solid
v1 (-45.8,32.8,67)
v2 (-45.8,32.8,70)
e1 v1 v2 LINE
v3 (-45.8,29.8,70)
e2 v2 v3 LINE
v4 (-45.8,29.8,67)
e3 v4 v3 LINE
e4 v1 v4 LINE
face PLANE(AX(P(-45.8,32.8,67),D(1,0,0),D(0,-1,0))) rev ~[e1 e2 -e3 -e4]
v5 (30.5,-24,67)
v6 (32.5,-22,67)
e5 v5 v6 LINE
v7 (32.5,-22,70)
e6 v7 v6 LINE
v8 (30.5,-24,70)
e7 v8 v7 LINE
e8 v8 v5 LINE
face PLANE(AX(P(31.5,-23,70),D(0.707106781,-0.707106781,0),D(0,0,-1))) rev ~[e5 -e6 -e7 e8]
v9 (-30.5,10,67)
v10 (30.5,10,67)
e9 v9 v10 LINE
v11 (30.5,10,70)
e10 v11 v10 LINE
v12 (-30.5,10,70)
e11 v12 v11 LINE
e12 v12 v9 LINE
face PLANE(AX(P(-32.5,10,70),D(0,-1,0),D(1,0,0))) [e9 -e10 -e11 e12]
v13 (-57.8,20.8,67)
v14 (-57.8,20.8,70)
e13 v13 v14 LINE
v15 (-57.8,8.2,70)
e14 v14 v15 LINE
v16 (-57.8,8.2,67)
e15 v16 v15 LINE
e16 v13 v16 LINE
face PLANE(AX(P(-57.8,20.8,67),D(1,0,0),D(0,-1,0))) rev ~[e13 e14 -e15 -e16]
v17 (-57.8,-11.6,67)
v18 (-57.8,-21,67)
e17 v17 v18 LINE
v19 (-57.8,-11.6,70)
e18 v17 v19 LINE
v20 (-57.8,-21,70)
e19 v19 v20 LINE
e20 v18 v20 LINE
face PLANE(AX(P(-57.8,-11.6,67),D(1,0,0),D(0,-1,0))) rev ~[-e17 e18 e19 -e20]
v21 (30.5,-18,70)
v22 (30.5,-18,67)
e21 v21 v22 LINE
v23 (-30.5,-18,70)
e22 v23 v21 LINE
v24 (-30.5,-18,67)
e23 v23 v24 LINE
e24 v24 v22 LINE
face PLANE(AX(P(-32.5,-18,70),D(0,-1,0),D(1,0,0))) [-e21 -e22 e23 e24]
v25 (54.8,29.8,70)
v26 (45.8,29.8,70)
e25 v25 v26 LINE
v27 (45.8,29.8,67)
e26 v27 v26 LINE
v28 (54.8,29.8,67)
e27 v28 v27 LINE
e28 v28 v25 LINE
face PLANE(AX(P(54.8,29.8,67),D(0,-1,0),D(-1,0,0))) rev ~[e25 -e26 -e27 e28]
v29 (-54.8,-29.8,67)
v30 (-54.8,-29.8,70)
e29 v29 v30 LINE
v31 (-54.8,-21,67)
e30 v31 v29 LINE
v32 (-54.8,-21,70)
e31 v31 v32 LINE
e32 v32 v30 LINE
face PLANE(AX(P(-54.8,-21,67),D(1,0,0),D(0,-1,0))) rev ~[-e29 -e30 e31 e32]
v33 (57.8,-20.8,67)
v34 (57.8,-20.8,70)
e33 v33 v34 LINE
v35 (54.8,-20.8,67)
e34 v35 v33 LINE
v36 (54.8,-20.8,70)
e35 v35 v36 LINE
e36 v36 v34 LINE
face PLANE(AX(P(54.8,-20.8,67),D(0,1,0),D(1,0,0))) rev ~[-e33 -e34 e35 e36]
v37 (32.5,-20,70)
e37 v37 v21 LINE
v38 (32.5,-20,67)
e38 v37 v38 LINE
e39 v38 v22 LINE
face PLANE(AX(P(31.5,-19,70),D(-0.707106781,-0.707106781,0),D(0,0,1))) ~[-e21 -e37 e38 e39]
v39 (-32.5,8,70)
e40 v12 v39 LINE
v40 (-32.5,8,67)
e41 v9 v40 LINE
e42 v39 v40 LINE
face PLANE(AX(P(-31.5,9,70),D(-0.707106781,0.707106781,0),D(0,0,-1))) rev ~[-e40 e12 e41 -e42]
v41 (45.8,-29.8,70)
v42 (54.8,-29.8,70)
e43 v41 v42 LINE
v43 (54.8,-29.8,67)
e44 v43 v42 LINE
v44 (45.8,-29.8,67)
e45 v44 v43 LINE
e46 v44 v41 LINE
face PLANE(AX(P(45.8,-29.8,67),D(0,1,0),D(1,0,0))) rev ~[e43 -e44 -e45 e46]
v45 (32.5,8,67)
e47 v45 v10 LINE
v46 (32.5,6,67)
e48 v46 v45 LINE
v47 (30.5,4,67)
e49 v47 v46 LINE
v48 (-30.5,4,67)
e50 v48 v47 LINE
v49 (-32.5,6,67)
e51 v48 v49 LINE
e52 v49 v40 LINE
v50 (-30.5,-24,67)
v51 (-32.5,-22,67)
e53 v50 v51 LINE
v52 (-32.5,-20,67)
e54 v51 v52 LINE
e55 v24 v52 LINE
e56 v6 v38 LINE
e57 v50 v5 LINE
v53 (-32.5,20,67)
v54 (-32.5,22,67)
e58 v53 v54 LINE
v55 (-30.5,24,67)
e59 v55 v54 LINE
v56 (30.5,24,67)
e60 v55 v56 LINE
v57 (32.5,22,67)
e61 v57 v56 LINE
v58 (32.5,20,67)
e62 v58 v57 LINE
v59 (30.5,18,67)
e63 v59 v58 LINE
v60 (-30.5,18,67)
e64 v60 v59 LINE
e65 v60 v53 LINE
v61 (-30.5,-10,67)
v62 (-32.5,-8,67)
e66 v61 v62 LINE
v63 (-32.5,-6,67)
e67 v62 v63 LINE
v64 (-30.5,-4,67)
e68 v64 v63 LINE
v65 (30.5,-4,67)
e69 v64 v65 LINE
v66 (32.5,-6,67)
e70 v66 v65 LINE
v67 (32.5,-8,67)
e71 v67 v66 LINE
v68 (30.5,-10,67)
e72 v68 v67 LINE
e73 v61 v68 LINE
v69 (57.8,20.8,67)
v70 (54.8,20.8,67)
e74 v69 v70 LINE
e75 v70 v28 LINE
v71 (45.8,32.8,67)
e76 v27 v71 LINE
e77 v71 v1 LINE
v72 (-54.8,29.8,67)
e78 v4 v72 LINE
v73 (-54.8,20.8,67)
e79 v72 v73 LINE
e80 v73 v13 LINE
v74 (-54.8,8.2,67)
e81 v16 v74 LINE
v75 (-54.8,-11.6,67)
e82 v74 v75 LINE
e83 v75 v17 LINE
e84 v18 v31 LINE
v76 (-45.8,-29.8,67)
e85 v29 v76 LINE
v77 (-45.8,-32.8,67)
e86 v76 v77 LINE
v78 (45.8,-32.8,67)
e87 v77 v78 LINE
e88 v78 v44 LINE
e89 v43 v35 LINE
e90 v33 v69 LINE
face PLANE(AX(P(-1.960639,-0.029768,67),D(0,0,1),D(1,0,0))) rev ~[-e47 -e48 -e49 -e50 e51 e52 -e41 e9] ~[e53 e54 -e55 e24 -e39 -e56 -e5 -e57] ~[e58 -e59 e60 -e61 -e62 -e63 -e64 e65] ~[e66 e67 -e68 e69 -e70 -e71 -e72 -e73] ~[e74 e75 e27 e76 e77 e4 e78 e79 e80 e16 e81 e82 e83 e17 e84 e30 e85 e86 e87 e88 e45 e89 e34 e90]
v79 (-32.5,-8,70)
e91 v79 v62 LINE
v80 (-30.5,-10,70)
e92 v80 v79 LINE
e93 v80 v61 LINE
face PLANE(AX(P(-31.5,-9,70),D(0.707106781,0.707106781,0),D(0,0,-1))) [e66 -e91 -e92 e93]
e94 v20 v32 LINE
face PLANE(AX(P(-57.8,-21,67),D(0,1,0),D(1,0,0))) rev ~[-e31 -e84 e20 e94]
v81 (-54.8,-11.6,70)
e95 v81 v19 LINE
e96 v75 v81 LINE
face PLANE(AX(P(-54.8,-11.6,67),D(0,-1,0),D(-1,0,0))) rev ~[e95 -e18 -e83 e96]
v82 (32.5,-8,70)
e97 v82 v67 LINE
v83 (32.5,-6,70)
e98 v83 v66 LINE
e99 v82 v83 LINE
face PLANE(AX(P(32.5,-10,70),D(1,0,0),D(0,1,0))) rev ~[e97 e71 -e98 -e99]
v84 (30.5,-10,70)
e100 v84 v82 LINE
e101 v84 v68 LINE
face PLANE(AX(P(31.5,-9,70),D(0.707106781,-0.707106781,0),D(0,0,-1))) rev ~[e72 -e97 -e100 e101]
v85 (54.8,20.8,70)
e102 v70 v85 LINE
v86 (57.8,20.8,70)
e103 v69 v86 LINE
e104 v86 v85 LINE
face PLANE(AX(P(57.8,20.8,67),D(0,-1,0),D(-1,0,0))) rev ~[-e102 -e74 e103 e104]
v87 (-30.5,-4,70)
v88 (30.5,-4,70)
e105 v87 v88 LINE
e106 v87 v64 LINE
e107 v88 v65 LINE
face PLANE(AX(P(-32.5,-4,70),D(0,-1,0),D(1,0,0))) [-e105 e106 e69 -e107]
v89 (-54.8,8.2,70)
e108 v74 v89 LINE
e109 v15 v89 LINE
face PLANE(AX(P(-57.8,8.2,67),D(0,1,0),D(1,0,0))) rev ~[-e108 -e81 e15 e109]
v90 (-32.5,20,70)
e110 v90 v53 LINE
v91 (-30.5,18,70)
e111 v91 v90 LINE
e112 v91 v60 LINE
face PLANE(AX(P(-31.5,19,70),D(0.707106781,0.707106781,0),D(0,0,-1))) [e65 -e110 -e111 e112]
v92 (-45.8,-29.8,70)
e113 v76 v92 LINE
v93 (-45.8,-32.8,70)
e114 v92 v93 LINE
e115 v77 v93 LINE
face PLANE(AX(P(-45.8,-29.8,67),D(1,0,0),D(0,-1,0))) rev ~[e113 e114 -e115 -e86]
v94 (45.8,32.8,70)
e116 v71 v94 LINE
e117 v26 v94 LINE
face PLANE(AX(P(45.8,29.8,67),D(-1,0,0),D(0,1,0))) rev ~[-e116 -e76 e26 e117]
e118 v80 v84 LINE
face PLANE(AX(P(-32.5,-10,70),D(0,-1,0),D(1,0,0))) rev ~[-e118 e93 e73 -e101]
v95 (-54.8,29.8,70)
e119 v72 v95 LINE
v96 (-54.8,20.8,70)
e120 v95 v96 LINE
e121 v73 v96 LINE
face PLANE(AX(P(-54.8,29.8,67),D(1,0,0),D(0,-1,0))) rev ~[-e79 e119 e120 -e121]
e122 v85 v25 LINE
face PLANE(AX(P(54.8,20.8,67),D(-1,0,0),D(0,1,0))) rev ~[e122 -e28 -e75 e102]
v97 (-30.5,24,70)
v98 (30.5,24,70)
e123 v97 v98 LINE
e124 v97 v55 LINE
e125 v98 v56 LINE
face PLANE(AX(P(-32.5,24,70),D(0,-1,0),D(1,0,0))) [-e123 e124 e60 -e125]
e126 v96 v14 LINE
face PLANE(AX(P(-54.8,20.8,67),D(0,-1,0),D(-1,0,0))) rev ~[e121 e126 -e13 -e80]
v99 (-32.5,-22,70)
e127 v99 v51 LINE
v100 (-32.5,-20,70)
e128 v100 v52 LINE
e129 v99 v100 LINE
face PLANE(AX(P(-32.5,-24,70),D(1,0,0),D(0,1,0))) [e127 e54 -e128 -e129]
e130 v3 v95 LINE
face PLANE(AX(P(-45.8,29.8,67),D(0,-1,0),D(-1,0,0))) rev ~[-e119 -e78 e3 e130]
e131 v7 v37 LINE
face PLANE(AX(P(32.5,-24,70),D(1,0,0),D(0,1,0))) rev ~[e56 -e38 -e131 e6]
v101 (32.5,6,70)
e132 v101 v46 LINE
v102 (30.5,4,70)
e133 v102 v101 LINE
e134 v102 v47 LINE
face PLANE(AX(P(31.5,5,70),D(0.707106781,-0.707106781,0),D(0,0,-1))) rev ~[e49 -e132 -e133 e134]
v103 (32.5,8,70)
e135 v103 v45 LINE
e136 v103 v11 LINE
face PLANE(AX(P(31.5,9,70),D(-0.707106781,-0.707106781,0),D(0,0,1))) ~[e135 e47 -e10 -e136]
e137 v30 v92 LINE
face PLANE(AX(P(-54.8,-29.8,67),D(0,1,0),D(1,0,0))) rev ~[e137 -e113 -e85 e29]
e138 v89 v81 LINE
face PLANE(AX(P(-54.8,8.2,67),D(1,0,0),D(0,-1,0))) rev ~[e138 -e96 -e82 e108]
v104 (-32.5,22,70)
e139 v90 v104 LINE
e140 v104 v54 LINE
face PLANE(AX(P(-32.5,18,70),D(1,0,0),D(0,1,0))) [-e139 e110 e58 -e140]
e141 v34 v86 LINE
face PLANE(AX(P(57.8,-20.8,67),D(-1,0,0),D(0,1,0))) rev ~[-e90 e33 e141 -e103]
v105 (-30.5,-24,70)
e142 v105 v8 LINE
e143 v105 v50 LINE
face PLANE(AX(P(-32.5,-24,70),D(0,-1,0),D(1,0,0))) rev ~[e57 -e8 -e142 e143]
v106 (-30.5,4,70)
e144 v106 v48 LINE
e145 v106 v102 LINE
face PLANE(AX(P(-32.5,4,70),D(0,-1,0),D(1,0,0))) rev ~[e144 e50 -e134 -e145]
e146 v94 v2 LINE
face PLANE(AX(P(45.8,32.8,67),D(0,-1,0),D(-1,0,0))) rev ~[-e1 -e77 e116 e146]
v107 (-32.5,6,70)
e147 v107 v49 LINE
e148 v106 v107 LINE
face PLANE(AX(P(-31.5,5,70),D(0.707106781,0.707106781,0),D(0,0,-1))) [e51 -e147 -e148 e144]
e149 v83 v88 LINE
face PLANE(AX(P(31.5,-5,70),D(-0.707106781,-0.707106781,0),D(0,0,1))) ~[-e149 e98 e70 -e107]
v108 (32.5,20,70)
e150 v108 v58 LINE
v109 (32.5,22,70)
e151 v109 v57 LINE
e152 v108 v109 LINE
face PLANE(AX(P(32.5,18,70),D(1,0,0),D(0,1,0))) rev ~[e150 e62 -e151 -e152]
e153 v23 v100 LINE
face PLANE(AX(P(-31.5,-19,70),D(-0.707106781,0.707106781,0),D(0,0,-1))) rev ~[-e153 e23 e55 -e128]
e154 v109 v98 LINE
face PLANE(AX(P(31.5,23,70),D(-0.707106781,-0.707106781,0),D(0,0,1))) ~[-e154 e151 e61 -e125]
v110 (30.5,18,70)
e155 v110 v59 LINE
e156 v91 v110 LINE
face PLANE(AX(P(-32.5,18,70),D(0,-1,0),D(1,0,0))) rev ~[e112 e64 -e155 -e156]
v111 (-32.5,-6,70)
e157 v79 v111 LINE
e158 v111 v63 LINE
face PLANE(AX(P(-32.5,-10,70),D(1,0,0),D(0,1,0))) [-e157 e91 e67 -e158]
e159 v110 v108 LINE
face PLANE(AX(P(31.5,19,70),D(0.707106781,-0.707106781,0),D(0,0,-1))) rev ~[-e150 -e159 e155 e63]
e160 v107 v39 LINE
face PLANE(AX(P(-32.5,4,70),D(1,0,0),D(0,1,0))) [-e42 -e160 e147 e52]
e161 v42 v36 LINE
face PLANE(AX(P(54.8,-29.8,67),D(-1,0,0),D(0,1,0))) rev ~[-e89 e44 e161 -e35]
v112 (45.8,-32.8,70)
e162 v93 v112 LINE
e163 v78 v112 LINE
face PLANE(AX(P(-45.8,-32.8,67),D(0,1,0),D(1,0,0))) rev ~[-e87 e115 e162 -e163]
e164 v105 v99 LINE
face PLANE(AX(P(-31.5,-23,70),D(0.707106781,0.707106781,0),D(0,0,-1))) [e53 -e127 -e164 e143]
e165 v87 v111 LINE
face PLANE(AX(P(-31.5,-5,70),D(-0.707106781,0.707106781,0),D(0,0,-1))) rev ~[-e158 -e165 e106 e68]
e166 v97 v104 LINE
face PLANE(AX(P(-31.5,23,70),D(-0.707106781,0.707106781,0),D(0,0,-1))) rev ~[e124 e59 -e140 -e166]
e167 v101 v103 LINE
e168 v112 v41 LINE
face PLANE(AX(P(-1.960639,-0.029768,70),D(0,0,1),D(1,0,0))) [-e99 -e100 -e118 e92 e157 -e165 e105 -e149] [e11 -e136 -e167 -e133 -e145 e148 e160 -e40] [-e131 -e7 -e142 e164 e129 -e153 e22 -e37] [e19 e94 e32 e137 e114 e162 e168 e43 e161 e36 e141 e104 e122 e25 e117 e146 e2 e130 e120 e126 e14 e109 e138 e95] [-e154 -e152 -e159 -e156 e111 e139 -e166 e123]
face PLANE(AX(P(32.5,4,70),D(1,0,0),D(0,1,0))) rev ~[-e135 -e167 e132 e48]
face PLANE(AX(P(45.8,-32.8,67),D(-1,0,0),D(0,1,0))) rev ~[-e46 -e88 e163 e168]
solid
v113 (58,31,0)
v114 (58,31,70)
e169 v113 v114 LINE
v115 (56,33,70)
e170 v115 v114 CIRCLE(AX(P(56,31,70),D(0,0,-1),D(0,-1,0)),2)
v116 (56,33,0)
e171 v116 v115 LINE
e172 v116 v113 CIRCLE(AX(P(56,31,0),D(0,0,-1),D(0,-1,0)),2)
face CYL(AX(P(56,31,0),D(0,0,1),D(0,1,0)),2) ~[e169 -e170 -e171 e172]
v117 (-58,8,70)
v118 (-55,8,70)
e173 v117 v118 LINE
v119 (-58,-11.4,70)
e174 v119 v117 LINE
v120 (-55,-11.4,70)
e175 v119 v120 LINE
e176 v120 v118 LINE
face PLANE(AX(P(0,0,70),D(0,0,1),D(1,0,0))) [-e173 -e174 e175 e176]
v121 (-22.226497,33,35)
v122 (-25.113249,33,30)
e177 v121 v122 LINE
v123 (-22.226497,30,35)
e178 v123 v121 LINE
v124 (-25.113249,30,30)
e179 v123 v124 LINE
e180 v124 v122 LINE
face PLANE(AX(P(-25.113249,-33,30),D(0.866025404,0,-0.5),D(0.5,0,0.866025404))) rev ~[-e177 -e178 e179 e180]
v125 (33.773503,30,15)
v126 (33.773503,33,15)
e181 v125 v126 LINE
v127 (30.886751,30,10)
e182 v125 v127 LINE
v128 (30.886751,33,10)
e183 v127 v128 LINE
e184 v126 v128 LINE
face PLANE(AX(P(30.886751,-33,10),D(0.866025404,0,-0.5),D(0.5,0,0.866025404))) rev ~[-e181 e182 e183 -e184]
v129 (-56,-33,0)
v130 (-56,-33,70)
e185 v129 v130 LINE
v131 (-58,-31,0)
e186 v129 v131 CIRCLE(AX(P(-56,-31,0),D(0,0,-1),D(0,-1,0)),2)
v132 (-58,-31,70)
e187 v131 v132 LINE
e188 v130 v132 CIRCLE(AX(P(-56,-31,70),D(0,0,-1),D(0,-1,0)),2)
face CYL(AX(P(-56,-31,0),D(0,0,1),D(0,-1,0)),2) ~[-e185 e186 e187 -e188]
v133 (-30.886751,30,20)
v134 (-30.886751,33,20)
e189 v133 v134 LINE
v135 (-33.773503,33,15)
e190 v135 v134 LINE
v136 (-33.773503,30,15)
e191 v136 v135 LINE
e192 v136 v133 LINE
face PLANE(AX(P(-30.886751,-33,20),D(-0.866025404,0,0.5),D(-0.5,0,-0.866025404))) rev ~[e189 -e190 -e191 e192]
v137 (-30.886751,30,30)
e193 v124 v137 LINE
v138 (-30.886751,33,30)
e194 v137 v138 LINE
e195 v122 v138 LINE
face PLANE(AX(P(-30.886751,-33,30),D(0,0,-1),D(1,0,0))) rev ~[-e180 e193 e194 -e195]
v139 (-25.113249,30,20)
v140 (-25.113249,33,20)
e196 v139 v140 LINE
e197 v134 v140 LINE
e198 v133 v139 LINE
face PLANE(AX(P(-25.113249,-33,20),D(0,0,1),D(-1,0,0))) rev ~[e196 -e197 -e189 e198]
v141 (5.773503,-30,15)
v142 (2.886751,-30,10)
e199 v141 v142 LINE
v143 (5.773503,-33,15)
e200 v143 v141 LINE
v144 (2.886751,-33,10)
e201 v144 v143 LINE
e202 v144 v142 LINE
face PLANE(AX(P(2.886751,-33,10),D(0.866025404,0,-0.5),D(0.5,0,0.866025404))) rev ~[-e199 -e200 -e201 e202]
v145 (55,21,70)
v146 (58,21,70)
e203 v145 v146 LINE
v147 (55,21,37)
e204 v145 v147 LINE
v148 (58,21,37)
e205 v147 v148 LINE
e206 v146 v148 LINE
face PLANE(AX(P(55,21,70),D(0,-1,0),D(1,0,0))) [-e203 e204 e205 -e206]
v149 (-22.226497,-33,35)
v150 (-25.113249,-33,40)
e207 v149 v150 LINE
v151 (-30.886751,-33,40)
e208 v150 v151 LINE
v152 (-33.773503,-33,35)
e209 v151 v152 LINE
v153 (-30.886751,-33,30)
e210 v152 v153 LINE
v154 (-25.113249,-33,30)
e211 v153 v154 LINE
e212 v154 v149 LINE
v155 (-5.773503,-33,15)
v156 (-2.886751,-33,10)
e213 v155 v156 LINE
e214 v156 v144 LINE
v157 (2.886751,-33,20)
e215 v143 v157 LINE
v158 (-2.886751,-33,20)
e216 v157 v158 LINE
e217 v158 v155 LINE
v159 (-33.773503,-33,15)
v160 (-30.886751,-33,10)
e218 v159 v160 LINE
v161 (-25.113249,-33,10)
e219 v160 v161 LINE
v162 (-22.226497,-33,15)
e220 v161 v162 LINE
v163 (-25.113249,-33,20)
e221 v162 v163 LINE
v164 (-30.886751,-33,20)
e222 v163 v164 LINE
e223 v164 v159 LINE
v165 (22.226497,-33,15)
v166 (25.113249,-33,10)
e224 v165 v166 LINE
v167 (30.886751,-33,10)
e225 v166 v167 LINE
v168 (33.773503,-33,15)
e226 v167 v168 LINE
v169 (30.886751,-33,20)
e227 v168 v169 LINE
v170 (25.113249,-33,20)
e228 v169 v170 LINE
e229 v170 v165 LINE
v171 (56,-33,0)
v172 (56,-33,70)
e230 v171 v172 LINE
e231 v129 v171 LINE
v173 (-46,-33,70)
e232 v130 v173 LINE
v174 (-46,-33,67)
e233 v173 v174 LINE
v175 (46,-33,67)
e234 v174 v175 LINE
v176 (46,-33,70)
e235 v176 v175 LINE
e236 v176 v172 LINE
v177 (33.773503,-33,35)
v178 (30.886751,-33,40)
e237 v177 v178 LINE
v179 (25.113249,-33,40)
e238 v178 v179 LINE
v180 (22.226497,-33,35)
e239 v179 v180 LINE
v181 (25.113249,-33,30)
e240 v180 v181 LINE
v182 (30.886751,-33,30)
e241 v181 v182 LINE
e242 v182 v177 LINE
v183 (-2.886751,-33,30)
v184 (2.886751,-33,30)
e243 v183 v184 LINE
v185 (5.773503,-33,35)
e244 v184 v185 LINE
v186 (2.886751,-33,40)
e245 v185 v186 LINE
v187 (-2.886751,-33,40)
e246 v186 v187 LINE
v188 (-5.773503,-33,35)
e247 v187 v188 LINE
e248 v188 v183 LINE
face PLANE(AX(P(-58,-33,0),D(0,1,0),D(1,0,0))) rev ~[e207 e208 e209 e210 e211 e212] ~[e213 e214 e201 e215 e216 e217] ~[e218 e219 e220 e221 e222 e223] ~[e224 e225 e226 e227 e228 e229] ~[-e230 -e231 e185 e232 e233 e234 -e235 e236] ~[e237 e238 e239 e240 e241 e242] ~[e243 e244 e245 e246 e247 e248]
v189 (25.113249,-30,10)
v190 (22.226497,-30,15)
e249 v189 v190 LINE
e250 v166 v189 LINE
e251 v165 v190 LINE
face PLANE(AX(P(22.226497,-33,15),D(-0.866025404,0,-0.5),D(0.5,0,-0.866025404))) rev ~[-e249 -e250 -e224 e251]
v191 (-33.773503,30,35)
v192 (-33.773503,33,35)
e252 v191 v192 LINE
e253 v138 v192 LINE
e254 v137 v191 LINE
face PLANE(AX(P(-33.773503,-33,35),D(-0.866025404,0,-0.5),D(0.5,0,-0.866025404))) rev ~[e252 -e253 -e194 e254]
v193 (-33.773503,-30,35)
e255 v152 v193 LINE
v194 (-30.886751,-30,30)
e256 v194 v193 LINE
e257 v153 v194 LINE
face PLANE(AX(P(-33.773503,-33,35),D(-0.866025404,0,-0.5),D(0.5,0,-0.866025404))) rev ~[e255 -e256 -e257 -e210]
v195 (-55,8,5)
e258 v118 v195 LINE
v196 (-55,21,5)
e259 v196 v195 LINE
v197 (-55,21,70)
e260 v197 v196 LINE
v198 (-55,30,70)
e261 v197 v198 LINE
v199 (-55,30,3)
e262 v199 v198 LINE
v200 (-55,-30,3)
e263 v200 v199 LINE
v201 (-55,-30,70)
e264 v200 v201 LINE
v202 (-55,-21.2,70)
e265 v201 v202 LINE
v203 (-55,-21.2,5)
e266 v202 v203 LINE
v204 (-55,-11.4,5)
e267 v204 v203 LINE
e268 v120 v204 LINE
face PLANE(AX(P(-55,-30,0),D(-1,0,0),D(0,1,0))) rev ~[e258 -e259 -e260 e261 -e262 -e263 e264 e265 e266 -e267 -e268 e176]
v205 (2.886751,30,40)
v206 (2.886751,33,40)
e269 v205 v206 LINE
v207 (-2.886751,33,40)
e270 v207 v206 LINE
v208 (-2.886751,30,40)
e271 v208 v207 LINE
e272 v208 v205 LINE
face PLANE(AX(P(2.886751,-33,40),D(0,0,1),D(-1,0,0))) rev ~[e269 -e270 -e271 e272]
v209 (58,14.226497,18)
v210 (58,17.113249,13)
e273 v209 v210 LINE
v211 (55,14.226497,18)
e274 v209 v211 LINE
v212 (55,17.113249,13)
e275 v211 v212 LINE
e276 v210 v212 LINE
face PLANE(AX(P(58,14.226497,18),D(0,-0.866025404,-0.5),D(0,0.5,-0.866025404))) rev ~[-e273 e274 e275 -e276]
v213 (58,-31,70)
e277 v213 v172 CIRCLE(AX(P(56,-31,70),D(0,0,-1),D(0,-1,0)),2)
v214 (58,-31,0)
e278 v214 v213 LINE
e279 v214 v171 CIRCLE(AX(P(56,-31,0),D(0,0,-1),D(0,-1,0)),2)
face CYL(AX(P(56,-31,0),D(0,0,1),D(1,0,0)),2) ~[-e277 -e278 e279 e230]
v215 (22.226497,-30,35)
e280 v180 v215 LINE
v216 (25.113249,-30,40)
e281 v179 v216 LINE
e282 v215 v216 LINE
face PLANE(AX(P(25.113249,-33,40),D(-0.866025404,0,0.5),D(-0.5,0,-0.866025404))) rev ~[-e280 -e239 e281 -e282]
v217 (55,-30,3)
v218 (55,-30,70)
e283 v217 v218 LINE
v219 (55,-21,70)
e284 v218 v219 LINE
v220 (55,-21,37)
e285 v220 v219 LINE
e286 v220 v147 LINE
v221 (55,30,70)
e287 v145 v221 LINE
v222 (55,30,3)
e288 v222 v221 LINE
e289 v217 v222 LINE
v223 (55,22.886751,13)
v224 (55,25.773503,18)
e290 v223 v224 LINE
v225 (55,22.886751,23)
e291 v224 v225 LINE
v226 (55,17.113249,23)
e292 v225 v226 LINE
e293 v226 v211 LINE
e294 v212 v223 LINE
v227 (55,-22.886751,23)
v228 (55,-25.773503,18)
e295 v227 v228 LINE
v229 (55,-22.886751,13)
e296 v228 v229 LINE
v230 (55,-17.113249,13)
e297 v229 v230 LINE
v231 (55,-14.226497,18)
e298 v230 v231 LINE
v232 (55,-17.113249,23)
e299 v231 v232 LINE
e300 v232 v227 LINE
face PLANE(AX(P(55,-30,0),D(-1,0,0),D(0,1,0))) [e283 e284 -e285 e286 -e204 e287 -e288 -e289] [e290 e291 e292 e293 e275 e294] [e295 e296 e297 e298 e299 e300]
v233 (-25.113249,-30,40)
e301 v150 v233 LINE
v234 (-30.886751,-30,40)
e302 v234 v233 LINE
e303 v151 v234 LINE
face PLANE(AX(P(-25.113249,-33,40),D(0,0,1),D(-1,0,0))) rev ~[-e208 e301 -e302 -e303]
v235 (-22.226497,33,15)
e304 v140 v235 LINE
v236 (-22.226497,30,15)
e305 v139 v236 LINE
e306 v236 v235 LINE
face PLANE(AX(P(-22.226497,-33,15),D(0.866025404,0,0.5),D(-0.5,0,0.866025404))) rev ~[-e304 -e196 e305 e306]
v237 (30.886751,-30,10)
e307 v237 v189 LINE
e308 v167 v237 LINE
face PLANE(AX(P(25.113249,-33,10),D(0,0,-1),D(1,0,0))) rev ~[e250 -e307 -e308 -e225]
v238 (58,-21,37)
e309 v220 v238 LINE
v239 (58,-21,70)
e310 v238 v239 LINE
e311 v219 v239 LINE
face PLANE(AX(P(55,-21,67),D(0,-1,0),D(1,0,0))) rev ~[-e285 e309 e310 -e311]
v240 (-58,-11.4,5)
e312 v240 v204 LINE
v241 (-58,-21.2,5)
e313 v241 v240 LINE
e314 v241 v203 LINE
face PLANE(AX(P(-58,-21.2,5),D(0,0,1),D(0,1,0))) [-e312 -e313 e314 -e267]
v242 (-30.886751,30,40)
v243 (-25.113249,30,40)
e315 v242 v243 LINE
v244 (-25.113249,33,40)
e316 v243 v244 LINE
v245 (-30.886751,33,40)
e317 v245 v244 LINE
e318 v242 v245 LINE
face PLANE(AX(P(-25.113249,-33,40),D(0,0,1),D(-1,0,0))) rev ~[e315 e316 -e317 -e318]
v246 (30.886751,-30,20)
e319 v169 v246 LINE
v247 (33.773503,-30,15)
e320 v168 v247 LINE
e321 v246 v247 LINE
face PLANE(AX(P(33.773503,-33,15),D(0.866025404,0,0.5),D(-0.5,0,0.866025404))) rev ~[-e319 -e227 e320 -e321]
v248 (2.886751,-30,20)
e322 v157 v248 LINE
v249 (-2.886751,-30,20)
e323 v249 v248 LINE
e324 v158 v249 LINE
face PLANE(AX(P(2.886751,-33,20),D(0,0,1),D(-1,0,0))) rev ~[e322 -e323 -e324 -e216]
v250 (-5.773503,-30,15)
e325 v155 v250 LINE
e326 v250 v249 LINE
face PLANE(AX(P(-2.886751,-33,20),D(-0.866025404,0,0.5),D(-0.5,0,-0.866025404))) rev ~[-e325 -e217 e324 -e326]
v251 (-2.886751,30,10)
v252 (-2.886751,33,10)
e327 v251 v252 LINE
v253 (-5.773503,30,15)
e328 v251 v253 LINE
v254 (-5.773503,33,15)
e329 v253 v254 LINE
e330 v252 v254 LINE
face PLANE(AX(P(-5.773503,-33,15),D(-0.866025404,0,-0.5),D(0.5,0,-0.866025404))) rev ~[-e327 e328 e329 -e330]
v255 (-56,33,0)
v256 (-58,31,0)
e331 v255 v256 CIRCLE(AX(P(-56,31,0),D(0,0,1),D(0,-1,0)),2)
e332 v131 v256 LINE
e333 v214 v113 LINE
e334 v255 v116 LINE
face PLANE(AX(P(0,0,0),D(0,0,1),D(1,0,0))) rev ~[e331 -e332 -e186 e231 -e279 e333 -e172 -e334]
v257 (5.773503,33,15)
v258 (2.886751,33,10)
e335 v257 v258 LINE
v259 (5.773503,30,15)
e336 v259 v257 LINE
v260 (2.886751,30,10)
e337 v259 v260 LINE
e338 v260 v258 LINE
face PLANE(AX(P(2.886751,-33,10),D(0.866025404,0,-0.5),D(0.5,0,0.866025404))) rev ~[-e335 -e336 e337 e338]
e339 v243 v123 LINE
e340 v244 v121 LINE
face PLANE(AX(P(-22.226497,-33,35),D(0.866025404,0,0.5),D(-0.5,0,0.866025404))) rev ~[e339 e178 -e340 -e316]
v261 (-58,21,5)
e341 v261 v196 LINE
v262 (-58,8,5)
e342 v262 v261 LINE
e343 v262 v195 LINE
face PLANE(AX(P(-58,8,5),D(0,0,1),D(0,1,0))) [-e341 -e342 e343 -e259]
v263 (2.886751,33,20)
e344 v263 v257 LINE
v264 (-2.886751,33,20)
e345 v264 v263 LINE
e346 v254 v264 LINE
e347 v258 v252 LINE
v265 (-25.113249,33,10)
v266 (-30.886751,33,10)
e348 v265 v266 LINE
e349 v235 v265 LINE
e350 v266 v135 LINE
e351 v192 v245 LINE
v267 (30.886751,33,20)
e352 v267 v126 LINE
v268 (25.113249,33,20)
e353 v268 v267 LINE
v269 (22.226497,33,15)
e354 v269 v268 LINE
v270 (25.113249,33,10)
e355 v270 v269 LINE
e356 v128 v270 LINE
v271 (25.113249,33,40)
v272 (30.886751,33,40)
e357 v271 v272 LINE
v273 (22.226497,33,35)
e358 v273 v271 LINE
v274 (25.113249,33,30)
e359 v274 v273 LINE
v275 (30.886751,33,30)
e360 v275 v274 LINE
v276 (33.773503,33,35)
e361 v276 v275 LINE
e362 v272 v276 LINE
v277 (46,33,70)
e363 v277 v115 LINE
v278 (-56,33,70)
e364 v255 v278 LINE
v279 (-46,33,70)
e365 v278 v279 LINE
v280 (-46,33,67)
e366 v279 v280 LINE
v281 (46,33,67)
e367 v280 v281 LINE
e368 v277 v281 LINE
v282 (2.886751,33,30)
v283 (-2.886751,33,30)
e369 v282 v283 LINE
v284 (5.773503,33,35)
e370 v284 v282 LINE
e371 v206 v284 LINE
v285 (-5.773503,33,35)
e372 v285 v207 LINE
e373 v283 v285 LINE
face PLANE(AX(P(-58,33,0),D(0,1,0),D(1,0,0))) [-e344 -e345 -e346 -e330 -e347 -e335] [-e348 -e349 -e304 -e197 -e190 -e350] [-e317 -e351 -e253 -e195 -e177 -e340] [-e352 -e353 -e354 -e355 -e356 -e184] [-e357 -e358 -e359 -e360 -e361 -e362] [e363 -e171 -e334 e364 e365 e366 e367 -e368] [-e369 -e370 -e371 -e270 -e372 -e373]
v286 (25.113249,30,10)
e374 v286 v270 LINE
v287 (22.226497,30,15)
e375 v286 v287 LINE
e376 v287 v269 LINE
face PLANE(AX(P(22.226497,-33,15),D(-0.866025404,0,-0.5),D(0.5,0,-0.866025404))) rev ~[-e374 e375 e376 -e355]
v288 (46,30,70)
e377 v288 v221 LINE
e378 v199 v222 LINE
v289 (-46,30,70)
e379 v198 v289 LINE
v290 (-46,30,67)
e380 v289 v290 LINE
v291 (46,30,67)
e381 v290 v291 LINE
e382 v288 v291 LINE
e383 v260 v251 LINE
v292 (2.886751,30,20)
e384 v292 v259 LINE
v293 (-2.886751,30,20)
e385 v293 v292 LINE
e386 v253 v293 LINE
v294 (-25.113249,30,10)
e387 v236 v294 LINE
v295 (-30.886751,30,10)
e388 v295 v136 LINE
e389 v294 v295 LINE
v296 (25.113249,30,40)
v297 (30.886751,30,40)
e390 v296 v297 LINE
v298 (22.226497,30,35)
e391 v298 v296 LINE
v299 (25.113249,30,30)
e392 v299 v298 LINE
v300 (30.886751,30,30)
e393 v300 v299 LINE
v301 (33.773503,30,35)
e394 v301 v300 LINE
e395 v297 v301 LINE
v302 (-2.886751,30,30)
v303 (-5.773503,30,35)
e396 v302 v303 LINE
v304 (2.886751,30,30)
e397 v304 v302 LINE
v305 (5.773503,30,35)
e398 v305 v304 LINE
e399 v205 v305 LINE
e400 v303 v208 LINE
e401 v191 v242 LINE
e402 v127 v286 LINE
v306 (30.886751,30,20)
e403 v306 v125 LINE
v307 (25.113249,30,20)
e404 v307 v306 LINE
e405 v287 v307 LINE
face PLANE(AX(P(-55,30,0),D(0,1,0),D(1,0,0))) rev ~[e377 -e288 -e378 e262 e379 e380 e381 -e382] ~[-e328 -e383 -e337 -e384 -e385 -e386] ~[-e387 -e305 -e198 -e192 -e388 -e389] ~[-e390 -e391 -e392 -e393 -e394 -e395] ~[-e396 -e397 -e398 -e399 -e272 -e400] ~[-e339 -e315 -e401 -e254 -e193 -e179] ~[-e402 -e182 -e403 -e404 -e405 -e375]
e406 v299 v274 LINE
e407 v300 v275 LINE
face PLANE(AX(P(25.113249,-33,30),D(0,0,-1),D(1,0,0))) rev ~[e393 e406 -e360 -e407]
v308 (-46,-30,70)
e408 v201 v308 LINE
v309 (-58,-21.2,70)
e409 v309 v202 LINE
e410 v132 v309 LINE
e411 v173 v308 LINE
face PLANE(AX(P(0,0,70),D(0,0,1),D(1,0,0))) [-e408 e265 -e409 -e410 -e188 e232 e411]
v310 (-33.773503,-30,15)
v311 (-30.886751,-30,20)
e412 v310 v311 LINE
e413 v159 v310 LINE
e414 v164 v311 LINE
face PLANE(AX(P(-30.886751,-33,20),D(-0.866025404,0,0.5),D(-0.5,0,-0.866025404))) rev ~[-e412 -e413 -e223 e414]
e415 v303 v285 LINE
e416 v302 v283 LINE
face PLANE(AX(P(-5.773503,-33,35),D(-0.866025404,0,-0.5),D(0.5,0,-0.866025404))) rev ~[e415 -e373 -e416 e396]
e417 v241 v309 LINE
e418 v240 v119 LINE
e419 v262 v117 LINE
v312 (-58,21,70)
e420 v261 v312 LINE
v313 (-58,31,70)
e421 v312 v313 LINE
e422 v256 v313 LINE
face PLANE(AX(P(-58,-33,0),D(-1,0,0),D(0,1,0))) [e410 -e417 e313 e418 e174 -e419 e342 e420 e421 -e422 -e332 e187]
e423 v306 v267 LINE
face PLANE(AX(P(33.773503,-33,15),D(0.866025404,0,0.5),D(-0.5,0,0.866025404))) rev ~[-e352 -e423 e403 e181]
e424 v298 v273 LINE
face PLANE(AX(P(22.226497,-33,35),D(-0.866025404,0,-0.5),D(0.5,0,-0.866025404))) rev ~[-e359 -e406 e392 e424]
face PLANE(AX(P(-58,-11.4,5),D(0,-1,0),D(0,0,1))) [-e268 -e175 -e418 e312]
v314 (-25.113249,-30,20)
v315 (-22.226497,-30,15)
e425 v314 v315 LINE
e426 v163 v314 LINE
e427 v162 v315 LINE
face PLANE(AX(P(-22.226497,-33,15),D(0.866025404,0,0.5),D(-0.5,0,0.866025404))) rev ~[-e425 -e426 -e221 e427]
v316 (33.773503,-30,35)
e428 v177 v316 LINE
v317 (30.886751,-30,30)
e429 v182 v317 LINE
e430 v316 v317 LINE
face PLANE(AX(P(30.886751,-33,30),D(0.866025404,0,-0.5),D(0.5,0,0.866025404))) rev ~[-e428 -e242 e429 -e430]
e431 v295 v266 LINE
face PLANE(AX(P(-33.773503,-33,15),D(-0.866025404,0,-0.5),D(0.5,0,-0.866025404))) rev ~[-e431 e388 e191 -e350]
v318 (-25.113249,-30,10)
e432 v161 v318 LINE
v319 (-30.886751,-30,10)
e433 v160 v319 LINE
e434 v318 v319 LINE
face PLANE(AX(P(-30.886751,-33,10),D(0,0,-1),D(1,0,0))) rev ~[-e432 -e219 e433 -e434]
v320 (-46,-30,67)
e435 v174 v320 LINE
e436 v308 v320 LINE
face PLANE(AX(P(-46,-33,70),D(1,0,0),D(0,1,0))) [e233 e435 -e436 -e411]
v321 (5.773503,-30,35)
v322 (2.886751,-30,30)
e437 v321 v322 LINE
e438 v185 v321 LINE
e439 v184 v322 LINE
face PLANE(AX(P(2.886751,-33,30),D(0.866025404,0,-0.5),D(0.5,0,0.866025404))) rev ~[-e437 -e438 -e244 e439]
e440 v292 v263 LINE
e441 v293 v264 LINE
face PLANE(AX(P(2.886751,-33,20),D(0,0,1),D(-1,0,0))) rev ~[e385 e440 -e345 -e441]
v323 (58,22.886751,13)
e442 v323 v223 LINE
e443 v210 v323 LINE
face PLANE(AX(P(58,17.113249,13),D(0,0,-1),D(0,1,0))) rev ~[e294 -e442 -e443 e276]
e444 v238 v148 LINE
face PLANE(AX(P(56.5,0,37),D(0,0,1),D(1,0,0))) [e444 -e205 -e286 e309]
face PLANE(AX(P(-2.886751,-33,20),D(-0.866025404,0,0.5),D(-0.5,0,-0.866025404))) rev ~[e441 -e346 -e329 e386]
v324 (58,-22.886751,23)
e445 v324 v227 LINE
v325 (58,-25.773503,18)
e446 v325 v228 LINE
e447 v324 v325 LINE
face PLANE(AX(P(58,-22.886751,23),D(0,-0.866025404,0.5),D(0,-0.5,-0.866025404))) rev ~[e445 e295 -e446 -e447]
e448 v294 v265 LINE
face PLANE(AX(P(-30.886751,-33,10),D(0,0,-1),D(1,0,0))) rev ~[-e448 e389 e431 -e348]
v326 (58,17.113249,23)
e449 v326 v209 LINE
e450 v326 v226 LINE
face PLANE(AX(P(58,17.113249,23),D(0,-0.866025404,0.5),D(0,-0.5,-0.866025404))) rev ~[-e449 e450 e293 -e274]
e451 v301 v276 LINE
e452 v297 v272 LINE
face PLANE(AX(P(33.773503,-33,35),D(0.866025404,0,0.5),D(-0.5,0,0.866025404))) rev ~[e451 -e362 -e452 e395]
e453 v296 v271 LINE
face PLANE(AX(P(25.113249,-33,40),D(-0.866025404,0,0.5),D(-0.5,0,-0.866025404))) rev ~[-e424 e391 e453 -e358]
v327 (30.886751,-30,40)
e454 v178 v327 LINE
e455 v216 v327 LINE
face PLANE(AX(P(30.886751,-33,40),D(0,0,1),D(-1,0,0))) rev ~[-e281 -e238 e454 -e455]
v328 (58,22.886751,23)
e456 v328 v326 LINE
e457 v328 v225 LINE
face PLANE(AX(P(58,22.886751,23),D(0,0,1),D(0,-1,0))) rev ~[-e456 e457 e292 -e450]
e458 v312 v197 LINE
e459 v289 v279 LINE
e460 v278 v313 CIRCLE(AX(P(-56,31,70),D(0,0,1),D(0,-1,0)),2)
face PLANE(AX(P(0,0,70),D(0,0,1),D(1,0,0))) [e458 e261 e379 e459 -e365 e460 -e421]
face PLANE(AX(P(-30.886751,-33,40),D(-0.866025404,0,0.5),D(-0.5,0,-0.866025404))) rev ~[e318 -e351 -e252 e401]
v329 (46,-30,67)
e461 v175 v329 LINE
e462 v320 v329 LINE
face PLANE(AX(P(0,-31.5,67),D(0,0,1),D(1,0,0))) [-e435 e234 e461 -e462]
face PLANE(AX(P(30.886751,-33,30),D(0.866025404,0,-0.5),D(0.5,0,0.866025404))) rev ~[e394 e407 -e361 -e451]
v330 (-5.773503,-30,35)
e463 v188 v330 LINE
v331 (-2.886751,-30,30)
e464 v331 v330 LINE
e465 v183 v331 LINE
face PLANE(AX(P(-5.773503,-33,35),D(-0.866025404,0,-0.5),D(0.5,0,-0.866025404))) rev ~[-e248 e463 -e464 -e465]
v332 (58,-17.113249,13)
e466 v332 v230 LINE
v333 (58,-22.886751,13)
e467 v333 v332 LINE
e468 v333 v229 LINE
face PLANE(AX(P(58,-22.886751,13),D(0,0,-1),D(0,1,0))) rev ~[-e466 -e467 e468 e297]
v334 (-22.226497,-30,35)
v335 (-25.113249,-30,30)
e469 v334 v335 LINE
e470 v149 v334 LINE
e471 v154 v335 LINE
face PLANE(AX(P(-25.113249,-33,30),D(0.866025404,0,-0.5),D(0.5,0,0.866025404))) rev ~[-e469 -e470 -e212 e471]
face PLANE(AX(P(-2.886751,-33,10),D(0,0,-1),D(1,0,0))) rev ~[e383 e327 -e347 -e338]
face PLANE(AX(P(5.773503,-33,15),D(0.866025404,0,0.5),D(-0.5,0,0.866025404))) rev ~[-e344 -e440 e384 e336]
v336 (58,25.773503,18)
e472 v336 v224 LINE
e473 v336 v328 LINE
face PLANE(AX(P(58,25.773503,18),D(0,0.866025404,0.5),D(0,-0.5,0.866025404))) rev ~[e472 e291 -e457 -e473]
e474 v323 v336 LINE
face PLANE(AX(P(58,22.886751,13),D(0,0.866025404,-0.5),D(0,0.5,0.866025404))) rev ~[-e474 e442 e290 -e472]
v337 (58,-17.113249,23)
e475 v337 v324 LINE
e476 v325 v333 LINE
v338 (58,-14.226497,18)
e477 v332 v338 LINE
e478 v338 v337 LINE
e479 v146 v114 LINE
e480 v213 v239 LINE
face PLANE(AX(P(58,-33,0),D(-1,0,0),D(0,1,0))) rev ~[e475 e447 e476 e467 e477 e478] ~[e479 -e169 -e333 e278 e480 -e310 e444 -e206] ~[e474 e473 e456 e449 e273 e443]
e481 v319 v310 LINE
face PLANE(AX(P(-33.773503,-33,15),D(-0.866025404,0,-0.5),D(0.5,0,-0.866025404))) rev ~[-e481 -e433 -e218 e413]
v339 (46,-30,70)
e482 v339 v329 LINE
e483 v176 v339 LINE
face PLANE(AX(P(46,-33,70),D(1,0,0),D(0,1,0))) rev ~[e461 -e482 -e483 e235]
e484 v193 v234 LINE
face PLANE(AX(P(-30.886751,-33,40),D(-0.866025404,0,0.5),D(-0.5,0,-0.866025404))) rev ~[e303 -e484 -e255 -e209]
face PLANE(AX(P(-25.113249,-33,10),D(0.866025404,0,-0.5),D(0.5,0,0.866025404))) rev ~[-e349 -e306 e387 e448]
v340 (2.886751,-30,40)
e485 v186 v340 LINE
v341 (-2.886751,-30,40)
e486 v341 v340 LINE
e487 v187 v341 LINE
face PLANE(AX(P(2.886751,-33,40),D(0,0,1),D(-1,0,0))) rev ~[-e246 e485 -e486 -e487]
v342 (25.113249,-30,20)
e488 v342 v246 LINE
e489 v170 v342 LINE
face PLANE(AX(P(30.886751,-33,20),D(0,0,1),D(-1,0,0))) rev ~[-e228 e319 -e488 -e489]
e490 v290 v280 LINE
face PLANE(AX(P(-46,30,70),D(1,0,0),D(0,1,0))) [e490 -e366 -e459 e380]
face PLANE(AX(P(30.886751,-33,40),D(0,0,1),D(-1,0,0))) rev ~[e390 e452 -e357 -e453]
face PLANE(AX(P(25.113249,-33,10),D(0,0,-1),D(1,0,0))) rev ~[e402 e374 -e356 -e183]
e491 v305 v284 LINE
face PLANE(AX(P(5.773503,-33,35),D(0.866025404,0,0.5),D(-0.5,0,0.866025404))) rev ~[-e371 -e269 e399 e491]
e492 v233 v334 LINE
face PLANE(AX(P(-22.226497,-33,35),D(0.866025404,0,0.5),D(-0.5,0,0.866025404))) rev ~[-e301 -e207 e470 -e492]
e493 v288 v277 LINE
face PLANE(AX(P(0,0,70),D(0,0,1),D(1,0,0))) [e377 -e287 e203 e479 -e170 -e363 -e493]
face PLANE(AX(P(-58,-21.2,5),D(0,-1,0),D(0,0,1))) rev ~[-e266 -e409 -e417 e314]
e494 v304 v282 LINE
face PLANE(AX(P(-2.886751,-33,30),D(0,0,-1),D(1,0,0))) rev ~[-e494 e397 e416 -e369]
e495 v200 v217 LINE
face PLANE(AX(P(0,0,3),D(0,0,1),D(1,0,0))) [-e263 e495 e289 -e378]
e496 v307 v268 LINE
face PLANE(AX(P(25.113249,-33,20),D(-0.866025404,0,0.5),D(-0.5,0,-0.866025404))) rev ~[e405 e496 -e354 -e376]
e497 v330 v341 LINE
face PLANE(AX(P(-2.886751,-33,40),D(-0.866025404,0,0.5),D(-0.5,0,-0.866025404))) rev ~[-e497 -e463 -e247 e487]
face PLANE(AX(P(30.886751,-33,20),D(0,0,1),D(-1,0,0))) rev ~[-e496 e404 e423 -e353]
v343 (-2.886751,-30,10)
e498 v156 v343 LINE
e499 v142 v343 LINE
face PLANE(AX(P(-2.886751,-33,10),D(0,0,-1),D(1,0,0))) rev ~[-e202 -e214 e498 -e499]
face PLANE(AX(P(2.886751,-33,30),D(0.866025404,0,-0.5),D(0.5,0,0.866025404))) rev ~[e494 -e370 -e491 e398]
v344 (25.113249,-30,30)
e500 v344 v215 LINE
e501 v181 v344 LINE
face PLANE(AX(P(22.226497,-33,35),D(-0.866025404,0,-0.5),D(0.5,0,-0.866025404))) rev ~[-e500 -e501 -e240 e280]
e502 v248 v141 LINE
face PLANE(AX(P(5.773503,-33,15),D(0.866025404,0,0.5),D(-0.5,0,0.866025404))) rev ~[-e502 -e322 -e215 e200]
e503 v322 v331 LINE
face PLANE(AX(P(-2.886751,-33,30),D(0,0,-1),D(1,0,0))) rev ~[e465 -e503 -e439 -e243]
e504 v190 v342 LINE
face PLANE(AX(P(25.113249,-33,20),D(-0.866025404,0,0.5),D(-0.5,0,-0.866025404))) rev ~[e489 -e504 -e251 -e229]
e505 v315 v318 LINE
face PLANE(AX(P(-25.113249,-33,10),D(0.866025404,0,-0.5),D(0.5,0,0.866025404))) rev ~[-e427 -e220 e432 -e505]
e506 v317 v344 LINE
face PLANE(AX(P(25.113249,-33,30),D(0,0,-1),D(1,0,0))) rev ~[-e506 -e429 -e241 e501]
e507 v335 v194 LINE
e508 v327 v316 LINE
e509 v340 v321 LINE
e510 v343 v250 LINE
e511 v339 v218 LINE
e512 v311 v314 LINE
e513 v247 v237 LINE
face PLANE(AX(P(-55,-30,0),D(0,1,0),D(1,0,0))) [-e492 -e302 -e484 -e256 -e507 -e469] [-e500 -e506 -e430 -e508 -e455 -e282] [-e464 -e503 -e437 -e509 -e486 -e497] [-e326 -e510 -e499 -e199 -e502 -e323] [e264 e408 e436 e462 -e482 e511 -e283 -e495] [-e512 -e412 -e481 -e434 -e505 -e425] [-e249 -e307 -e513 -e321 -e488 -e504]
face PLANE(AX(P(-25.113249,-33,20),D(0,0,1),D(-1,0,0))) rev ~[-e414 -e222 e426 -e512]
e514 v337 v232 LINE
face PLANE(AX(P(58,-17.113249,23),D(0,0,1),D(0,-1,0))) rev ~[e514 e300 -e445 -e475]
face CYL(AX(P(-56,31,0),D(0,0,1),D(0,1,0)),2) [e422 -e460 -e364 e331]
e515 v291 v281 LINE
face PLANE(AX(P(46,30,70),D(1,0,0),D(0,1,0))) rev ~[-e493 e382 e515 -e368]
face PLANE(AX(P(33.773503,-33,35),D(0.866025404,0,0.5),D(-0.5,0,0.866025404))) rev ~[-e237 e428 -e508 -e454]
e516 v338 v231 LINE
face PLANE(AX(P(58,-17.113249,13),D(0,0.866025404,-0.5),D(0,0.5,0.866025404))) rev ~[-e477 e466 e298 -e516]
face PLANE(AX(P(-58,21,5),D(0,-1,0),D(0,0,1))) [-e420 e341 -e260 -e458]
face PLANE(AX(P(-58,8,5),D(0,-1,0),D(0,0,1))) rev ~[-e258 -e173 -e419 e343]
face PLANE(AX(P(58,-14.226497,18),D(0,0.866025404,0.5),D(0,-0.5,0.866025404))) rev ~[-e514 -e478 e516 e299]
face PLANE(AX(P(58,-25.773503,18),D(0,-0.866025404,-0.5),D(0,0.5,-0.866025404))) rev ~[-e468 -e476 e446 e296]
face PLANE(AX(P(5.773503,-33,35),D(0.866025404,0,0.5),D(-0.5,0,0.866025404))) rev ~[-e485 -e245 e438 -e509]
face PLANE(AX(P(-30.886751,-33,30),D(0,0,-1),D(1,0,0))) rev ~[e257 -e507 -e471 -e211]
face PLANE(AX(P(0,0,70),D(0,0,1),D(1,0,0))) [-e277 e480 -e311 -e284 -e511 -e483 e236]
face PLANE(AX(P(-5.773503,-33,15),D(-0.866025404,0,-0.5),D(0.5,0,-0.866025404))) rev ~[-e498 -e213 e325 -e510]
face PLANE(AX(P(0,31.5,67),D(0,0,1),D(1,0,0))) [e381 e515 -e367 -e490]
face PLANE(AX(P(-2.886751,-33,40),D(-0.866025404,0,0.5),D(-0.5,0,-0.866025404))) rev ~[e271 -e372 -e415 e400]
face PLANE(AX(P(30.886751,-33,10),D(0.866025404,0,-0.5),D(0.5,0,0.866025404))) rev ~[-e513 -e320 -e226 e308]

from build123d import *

# Parameters (mm, degrees)
SKETCH1_W           = 116
SKETCH1_H           = 66
SKETCH1_W_2         = 110
SKETCH1_H_2         = 60
BOSS_EXTRUDE1_DEPTH = 70
SKETCH1_2_W         = 110
SKETCH1_2_H         = 60
BOSS_EXTRUDE2_DEPTH = 3
CUT_EXTRUDE1_REACH  = 118
SKETCH2_W           = 65
SKETCH2_H           = 9.8
SKETCH2_H_2         = 13
CUT_EXTRUDE2_DEPTH  = 67
CUT_EXTRUDE3_REACH  = 118
SKETCH5_W           = 92
SKETCH5_H           = 3
SKETCH5_W_2         = 3
SKETCH5_H_2         = 42
CUT_EXTRUDE4_DEPTH  = 3
SKETCH6_W           = 2.8
SKETCH6_H           = 41.6
BOSS_EXTRUDE3_DEPTH = 3
SKETCH7_W           = 65
SKETCH7_H           = 6
CUT_EXTRUDE5_DEPTH  = 3
SKETCH8_W           = 3
SKETCH8_H           = 42
CUT_EXTRUDE6_DEPTH  = 30
CHAMFER1_SIZE       = 2
FILLET1_R           = 2


with BuildPart() as part:
    # Sketch1 → Boss-Extrude1 (new body)
    with BuildSketch(Plane.XY):
        Rectangle(SKETCH1_W, SKETCH1_H)
        Rectangle(SKETCH1_W_2, SKETCH1_H_2, mode=Mode.SUBTRACT)
    extrude(amount=BOSS_EXTRUDE1_DEPTH)

    # Sketch1<2> → Boss-Extrude2 (add)
    with BuildSketch(Plane.XY):
        Rectangle(SKETCH1_2_W, SKETCH1_2_H)
    extrude(amount=BOSS_EXTRUDE2_DEPTH)

    # Sketch2 → Cut-Extrude1 (cut, up to next)
    with BuildSketch(Plane.ZY.offset(58), mode=Mode.PRIVATE) as cut_extrude1_sk1:
        with Locations((37.5, -16.3)):
            Rectangle(SKETCH2_W, SKETCH2_H)
    cut_extrude1_tool1 = extrude(cut_extrude1_sk1.sketch, amount=-CUT_EXTRUDE1_REACH, mode=Mode.PRIVATE) & part.part
    add(cut_extrude1_tool1.solids().sort_by_distance((-58, -16.3, 37.5))[0], mode=Mode.SUBTRACT)
    # Sketch2 → Cut-Extrude1 (cut, up to next)
    with BuildSketch(Plane.ZY.offset(58), mode=Mode.PRIVATE) as cut_extrude1_sk2:
        with Locations((37.5, 14.5)):
            Rectangle(SKETCH2_W, SKETCH2_H_2)
    cut_extrude1_tool2 = extrude(cut_extrude1_sk2.sketch, amount=-CUT_EXTRUDE1_REACH, mode=Mode.PRIVATE) & part.part
    add(cut_extrude1_tool2.solids().sort_by_distance((-58, 14.5, 37.5))[0], mode=Mode.SUBTRACT)

    # Sketch3 → Cut-Extrude2 (cut, through all)
    with BuildSketch(Plane.XZ.offset(33)):
        Polygon((-25.113248654, 40), (-30.886751346, 40), (-33.773502692, 35), (-30.886751346, 30), (-25.113248654, 30), (-22.226497308, 35), align=None)
        Polygon((2.886751346, 40), (-2.886751346, 40), (-5.773502692, 35), (-2.886751346, 30), (2.886751346, 30), (5.773502692, 35), align=None)
        Polygon((30.886751346, 40), (25.113248654, 40), (22.226497308, 35), (25.113248654, 30), (30.886751346, 30), (33.773502692, 35), align=None)
        Polygon((30.886751346, 20), (25.113248654, 20), (22.226497308, 15), (25.113248654, 10), (30.886751346, 10), (33.773502692, 15), align=None)
        Polygon((2.886751346, 20), (-2.886751346, 20), (-5.773502692, 15), (-2.886751346, 10), (2.886751346, 10), (5.773502692, 15), align=None)
        Polygon((-25.113248654, 20), (-30.886751346, 20), (-33.773502692, 15), (-30.886751346, 10), (-25.113248654, 10), (-22.226497308, 15), align=None)
    extrude(amount=-CUT_EXTRUDE2_DEPTH, mode=Mode.SUBTRACT)

    # Sketch4 → Cut-Extrude3 (cut, up to next)
    with BuildSketch(Plane(origin=(58, 0, 0), x_dir=(0, 0, -1), z_dir=(1, 0, 0)), mode=Mode.PRIVATE) as cut_extrude3_sk1:
        Polygon((-18, 25.773502692), (-23, 22.886751346), (-23, 17.113248654), (-18, 14.226497308), (-13, 17.113248654), (-13, 22.886751346), align=None)
    cut_extrude3_tool1 = extrude(cut_extrude3_sk1.sketch, amount=-CUT_EXTRUDE3_REACH, mode=Mode.PRIVATE) & part.part
    add(cut_extrude3_tool1.solids().sort_by_distance((58, 20, 18))[0], mode=Mode.SUBTRACT)
    # Sketch4 → Cut-Extrude3 (cut, up to next)
    with BuildSketch(Plane(origin=(58, 0, 0), x_dir=(0, 0, -1), z_dir=(1, 0, 0)), mode=Mode.PRIVATE) as cut_extrude3_sk2:
        Polygon((-18, -14.226497308), (-23, -17.113248654), (-23, -22.886751346), (-18, -25.773502692), (-13, -22.886751346), (-13, -17.113248654), align=None)
    cut_extrude3_tool2 = extrude(cut_extrude3_sk2.sketch, amount=-CUT_EXTRUDE3_REACH, mode=Mode.PRIVATE) & part.part
    add(cut_extrude3_tool2.solids().sort_by_distance((58, -20, 18))[0], mode=Mode.SUBTRACT)

    # Sketch5 → Cut-Extrude4 (cut)
    with BuildSketch(Plane.XY.offset(70)):
        with Locations((0, 31.5)):
            Rectangle(SKETCH5_W, SKETCH5_H)
        with Locations((0, -31.5)):
            Rectangle(SKETCH5_W, SKETCH5_H)
        with Locations((56.5, 0)):
            Rectangle(SKETCH5_W_2, SKETCH5_H_2)
    extrude(amount=-CUT_EXTRUDE4_DEPTH, mode=Mode.SUBTRACT)

    # Sketch8 → Cut-Extrude6 (cut)
    with BuildSketch(Plane.XY.offset(67)):
        with Locations((56.5, 0)):
            Rectangle(SKETCH8_W, SKETCH8_H)
    extrude(amount=-CUT_EXTRUDE6_DEPTH, mode=Mode.SUBTRACT)

    # Fillet1
    fillet1_edges = [part.edges().sort_by_distance(p)[0] for p in [
        (-58, -33, 35),
        (-58, 33, 35),
        (58, 33, 35),
        (58, -33, 35),
    ]]
    fillet(fillet1_edges, radius=FILLET1_R)


with BuildPart() as body_2:
    # Sketch6 → Boss-Extrude3 (new body)
    with BuildSketch(Plane.XY.offset(67)):
        Polygon((55, -20.8), (55, 20.8), (54.8, 20.8), (54.8, 29.8), (45.8, 29.8), (45.8, 32.8), (-45.8, 32.8), (-45.8, 29.8), (-54.8, 29.8), (-54.8, 20.8), (-57.8, 20.8), (-57.8, 8.2), (-54.8, 8.2), (-54.8, -11.6), (-57.8, -11.6), (-57.8, -21), (-54.8, -21), (-54.8, -29.8), (-45.8, -29.8), (-45.8, -32.8), (45.8, -32.8), (45.8, -29.8), (54.8, -29.8), (54.8, -20.8), align=None)
        with Locations((56.4, 0)):
            Rectangle(SKETCH6_W, SKETCH6_H)
    extrude(amount=BOSS_EXTRUDE3_DEPTH)

    # Sketch7 → Cut-Extrude5 (cut)
    with BuildSketch(Plane.XY.offset(70)):
        with Locations((0, 21)):
            Rectangle(SKETCH7_W, SKETCH7_H)
        with Locations((0, 7)):
            Rectangle(SKETCH7_W, SKETCH7_H)
        with Locations((0, -7)):
            Rectangle(SKETCH7_W, SKETCH7_H)
        with Locations((0, -21)):
            Rectangle(SKETCH7_W, SKETCH7_H)
    extrude(amount=-CUT_EXTRUDE5_DEPTH, mode=Mode.SUBTRACT)

    # Chamfer1
    chamfer1_edges = [body_2.edges().sort_by_distance(p)[0] for p in [
        (-32.5, -10, 68.5),
        (-32.5, -4, 68.5),
        (32.5, -4, 68.5),
        (32.5, -10, 68.5),
        (-32.5, -24, 68.5),
        (-32.5, -18, 68.5),
        (32.5, -18, 68.5),
        (32.5, -24, 68.5),
        (-32.5, 18, 68.5),
        (-32.5, 24, 68.5),
        (32.5, 24, 68.5),
        (32.5, 18, 68.5),
        (-32.5, 4, 68.5),
        (-32.5, 10, 68.5),
        (32.5, 10, 68.5),
        (32.5, 4, 68.5),
    ]]
    chamfer(chamfer1_edges, length=CHAMFER1_SIZE)


solid = Compound([part.part, body_2.part])
